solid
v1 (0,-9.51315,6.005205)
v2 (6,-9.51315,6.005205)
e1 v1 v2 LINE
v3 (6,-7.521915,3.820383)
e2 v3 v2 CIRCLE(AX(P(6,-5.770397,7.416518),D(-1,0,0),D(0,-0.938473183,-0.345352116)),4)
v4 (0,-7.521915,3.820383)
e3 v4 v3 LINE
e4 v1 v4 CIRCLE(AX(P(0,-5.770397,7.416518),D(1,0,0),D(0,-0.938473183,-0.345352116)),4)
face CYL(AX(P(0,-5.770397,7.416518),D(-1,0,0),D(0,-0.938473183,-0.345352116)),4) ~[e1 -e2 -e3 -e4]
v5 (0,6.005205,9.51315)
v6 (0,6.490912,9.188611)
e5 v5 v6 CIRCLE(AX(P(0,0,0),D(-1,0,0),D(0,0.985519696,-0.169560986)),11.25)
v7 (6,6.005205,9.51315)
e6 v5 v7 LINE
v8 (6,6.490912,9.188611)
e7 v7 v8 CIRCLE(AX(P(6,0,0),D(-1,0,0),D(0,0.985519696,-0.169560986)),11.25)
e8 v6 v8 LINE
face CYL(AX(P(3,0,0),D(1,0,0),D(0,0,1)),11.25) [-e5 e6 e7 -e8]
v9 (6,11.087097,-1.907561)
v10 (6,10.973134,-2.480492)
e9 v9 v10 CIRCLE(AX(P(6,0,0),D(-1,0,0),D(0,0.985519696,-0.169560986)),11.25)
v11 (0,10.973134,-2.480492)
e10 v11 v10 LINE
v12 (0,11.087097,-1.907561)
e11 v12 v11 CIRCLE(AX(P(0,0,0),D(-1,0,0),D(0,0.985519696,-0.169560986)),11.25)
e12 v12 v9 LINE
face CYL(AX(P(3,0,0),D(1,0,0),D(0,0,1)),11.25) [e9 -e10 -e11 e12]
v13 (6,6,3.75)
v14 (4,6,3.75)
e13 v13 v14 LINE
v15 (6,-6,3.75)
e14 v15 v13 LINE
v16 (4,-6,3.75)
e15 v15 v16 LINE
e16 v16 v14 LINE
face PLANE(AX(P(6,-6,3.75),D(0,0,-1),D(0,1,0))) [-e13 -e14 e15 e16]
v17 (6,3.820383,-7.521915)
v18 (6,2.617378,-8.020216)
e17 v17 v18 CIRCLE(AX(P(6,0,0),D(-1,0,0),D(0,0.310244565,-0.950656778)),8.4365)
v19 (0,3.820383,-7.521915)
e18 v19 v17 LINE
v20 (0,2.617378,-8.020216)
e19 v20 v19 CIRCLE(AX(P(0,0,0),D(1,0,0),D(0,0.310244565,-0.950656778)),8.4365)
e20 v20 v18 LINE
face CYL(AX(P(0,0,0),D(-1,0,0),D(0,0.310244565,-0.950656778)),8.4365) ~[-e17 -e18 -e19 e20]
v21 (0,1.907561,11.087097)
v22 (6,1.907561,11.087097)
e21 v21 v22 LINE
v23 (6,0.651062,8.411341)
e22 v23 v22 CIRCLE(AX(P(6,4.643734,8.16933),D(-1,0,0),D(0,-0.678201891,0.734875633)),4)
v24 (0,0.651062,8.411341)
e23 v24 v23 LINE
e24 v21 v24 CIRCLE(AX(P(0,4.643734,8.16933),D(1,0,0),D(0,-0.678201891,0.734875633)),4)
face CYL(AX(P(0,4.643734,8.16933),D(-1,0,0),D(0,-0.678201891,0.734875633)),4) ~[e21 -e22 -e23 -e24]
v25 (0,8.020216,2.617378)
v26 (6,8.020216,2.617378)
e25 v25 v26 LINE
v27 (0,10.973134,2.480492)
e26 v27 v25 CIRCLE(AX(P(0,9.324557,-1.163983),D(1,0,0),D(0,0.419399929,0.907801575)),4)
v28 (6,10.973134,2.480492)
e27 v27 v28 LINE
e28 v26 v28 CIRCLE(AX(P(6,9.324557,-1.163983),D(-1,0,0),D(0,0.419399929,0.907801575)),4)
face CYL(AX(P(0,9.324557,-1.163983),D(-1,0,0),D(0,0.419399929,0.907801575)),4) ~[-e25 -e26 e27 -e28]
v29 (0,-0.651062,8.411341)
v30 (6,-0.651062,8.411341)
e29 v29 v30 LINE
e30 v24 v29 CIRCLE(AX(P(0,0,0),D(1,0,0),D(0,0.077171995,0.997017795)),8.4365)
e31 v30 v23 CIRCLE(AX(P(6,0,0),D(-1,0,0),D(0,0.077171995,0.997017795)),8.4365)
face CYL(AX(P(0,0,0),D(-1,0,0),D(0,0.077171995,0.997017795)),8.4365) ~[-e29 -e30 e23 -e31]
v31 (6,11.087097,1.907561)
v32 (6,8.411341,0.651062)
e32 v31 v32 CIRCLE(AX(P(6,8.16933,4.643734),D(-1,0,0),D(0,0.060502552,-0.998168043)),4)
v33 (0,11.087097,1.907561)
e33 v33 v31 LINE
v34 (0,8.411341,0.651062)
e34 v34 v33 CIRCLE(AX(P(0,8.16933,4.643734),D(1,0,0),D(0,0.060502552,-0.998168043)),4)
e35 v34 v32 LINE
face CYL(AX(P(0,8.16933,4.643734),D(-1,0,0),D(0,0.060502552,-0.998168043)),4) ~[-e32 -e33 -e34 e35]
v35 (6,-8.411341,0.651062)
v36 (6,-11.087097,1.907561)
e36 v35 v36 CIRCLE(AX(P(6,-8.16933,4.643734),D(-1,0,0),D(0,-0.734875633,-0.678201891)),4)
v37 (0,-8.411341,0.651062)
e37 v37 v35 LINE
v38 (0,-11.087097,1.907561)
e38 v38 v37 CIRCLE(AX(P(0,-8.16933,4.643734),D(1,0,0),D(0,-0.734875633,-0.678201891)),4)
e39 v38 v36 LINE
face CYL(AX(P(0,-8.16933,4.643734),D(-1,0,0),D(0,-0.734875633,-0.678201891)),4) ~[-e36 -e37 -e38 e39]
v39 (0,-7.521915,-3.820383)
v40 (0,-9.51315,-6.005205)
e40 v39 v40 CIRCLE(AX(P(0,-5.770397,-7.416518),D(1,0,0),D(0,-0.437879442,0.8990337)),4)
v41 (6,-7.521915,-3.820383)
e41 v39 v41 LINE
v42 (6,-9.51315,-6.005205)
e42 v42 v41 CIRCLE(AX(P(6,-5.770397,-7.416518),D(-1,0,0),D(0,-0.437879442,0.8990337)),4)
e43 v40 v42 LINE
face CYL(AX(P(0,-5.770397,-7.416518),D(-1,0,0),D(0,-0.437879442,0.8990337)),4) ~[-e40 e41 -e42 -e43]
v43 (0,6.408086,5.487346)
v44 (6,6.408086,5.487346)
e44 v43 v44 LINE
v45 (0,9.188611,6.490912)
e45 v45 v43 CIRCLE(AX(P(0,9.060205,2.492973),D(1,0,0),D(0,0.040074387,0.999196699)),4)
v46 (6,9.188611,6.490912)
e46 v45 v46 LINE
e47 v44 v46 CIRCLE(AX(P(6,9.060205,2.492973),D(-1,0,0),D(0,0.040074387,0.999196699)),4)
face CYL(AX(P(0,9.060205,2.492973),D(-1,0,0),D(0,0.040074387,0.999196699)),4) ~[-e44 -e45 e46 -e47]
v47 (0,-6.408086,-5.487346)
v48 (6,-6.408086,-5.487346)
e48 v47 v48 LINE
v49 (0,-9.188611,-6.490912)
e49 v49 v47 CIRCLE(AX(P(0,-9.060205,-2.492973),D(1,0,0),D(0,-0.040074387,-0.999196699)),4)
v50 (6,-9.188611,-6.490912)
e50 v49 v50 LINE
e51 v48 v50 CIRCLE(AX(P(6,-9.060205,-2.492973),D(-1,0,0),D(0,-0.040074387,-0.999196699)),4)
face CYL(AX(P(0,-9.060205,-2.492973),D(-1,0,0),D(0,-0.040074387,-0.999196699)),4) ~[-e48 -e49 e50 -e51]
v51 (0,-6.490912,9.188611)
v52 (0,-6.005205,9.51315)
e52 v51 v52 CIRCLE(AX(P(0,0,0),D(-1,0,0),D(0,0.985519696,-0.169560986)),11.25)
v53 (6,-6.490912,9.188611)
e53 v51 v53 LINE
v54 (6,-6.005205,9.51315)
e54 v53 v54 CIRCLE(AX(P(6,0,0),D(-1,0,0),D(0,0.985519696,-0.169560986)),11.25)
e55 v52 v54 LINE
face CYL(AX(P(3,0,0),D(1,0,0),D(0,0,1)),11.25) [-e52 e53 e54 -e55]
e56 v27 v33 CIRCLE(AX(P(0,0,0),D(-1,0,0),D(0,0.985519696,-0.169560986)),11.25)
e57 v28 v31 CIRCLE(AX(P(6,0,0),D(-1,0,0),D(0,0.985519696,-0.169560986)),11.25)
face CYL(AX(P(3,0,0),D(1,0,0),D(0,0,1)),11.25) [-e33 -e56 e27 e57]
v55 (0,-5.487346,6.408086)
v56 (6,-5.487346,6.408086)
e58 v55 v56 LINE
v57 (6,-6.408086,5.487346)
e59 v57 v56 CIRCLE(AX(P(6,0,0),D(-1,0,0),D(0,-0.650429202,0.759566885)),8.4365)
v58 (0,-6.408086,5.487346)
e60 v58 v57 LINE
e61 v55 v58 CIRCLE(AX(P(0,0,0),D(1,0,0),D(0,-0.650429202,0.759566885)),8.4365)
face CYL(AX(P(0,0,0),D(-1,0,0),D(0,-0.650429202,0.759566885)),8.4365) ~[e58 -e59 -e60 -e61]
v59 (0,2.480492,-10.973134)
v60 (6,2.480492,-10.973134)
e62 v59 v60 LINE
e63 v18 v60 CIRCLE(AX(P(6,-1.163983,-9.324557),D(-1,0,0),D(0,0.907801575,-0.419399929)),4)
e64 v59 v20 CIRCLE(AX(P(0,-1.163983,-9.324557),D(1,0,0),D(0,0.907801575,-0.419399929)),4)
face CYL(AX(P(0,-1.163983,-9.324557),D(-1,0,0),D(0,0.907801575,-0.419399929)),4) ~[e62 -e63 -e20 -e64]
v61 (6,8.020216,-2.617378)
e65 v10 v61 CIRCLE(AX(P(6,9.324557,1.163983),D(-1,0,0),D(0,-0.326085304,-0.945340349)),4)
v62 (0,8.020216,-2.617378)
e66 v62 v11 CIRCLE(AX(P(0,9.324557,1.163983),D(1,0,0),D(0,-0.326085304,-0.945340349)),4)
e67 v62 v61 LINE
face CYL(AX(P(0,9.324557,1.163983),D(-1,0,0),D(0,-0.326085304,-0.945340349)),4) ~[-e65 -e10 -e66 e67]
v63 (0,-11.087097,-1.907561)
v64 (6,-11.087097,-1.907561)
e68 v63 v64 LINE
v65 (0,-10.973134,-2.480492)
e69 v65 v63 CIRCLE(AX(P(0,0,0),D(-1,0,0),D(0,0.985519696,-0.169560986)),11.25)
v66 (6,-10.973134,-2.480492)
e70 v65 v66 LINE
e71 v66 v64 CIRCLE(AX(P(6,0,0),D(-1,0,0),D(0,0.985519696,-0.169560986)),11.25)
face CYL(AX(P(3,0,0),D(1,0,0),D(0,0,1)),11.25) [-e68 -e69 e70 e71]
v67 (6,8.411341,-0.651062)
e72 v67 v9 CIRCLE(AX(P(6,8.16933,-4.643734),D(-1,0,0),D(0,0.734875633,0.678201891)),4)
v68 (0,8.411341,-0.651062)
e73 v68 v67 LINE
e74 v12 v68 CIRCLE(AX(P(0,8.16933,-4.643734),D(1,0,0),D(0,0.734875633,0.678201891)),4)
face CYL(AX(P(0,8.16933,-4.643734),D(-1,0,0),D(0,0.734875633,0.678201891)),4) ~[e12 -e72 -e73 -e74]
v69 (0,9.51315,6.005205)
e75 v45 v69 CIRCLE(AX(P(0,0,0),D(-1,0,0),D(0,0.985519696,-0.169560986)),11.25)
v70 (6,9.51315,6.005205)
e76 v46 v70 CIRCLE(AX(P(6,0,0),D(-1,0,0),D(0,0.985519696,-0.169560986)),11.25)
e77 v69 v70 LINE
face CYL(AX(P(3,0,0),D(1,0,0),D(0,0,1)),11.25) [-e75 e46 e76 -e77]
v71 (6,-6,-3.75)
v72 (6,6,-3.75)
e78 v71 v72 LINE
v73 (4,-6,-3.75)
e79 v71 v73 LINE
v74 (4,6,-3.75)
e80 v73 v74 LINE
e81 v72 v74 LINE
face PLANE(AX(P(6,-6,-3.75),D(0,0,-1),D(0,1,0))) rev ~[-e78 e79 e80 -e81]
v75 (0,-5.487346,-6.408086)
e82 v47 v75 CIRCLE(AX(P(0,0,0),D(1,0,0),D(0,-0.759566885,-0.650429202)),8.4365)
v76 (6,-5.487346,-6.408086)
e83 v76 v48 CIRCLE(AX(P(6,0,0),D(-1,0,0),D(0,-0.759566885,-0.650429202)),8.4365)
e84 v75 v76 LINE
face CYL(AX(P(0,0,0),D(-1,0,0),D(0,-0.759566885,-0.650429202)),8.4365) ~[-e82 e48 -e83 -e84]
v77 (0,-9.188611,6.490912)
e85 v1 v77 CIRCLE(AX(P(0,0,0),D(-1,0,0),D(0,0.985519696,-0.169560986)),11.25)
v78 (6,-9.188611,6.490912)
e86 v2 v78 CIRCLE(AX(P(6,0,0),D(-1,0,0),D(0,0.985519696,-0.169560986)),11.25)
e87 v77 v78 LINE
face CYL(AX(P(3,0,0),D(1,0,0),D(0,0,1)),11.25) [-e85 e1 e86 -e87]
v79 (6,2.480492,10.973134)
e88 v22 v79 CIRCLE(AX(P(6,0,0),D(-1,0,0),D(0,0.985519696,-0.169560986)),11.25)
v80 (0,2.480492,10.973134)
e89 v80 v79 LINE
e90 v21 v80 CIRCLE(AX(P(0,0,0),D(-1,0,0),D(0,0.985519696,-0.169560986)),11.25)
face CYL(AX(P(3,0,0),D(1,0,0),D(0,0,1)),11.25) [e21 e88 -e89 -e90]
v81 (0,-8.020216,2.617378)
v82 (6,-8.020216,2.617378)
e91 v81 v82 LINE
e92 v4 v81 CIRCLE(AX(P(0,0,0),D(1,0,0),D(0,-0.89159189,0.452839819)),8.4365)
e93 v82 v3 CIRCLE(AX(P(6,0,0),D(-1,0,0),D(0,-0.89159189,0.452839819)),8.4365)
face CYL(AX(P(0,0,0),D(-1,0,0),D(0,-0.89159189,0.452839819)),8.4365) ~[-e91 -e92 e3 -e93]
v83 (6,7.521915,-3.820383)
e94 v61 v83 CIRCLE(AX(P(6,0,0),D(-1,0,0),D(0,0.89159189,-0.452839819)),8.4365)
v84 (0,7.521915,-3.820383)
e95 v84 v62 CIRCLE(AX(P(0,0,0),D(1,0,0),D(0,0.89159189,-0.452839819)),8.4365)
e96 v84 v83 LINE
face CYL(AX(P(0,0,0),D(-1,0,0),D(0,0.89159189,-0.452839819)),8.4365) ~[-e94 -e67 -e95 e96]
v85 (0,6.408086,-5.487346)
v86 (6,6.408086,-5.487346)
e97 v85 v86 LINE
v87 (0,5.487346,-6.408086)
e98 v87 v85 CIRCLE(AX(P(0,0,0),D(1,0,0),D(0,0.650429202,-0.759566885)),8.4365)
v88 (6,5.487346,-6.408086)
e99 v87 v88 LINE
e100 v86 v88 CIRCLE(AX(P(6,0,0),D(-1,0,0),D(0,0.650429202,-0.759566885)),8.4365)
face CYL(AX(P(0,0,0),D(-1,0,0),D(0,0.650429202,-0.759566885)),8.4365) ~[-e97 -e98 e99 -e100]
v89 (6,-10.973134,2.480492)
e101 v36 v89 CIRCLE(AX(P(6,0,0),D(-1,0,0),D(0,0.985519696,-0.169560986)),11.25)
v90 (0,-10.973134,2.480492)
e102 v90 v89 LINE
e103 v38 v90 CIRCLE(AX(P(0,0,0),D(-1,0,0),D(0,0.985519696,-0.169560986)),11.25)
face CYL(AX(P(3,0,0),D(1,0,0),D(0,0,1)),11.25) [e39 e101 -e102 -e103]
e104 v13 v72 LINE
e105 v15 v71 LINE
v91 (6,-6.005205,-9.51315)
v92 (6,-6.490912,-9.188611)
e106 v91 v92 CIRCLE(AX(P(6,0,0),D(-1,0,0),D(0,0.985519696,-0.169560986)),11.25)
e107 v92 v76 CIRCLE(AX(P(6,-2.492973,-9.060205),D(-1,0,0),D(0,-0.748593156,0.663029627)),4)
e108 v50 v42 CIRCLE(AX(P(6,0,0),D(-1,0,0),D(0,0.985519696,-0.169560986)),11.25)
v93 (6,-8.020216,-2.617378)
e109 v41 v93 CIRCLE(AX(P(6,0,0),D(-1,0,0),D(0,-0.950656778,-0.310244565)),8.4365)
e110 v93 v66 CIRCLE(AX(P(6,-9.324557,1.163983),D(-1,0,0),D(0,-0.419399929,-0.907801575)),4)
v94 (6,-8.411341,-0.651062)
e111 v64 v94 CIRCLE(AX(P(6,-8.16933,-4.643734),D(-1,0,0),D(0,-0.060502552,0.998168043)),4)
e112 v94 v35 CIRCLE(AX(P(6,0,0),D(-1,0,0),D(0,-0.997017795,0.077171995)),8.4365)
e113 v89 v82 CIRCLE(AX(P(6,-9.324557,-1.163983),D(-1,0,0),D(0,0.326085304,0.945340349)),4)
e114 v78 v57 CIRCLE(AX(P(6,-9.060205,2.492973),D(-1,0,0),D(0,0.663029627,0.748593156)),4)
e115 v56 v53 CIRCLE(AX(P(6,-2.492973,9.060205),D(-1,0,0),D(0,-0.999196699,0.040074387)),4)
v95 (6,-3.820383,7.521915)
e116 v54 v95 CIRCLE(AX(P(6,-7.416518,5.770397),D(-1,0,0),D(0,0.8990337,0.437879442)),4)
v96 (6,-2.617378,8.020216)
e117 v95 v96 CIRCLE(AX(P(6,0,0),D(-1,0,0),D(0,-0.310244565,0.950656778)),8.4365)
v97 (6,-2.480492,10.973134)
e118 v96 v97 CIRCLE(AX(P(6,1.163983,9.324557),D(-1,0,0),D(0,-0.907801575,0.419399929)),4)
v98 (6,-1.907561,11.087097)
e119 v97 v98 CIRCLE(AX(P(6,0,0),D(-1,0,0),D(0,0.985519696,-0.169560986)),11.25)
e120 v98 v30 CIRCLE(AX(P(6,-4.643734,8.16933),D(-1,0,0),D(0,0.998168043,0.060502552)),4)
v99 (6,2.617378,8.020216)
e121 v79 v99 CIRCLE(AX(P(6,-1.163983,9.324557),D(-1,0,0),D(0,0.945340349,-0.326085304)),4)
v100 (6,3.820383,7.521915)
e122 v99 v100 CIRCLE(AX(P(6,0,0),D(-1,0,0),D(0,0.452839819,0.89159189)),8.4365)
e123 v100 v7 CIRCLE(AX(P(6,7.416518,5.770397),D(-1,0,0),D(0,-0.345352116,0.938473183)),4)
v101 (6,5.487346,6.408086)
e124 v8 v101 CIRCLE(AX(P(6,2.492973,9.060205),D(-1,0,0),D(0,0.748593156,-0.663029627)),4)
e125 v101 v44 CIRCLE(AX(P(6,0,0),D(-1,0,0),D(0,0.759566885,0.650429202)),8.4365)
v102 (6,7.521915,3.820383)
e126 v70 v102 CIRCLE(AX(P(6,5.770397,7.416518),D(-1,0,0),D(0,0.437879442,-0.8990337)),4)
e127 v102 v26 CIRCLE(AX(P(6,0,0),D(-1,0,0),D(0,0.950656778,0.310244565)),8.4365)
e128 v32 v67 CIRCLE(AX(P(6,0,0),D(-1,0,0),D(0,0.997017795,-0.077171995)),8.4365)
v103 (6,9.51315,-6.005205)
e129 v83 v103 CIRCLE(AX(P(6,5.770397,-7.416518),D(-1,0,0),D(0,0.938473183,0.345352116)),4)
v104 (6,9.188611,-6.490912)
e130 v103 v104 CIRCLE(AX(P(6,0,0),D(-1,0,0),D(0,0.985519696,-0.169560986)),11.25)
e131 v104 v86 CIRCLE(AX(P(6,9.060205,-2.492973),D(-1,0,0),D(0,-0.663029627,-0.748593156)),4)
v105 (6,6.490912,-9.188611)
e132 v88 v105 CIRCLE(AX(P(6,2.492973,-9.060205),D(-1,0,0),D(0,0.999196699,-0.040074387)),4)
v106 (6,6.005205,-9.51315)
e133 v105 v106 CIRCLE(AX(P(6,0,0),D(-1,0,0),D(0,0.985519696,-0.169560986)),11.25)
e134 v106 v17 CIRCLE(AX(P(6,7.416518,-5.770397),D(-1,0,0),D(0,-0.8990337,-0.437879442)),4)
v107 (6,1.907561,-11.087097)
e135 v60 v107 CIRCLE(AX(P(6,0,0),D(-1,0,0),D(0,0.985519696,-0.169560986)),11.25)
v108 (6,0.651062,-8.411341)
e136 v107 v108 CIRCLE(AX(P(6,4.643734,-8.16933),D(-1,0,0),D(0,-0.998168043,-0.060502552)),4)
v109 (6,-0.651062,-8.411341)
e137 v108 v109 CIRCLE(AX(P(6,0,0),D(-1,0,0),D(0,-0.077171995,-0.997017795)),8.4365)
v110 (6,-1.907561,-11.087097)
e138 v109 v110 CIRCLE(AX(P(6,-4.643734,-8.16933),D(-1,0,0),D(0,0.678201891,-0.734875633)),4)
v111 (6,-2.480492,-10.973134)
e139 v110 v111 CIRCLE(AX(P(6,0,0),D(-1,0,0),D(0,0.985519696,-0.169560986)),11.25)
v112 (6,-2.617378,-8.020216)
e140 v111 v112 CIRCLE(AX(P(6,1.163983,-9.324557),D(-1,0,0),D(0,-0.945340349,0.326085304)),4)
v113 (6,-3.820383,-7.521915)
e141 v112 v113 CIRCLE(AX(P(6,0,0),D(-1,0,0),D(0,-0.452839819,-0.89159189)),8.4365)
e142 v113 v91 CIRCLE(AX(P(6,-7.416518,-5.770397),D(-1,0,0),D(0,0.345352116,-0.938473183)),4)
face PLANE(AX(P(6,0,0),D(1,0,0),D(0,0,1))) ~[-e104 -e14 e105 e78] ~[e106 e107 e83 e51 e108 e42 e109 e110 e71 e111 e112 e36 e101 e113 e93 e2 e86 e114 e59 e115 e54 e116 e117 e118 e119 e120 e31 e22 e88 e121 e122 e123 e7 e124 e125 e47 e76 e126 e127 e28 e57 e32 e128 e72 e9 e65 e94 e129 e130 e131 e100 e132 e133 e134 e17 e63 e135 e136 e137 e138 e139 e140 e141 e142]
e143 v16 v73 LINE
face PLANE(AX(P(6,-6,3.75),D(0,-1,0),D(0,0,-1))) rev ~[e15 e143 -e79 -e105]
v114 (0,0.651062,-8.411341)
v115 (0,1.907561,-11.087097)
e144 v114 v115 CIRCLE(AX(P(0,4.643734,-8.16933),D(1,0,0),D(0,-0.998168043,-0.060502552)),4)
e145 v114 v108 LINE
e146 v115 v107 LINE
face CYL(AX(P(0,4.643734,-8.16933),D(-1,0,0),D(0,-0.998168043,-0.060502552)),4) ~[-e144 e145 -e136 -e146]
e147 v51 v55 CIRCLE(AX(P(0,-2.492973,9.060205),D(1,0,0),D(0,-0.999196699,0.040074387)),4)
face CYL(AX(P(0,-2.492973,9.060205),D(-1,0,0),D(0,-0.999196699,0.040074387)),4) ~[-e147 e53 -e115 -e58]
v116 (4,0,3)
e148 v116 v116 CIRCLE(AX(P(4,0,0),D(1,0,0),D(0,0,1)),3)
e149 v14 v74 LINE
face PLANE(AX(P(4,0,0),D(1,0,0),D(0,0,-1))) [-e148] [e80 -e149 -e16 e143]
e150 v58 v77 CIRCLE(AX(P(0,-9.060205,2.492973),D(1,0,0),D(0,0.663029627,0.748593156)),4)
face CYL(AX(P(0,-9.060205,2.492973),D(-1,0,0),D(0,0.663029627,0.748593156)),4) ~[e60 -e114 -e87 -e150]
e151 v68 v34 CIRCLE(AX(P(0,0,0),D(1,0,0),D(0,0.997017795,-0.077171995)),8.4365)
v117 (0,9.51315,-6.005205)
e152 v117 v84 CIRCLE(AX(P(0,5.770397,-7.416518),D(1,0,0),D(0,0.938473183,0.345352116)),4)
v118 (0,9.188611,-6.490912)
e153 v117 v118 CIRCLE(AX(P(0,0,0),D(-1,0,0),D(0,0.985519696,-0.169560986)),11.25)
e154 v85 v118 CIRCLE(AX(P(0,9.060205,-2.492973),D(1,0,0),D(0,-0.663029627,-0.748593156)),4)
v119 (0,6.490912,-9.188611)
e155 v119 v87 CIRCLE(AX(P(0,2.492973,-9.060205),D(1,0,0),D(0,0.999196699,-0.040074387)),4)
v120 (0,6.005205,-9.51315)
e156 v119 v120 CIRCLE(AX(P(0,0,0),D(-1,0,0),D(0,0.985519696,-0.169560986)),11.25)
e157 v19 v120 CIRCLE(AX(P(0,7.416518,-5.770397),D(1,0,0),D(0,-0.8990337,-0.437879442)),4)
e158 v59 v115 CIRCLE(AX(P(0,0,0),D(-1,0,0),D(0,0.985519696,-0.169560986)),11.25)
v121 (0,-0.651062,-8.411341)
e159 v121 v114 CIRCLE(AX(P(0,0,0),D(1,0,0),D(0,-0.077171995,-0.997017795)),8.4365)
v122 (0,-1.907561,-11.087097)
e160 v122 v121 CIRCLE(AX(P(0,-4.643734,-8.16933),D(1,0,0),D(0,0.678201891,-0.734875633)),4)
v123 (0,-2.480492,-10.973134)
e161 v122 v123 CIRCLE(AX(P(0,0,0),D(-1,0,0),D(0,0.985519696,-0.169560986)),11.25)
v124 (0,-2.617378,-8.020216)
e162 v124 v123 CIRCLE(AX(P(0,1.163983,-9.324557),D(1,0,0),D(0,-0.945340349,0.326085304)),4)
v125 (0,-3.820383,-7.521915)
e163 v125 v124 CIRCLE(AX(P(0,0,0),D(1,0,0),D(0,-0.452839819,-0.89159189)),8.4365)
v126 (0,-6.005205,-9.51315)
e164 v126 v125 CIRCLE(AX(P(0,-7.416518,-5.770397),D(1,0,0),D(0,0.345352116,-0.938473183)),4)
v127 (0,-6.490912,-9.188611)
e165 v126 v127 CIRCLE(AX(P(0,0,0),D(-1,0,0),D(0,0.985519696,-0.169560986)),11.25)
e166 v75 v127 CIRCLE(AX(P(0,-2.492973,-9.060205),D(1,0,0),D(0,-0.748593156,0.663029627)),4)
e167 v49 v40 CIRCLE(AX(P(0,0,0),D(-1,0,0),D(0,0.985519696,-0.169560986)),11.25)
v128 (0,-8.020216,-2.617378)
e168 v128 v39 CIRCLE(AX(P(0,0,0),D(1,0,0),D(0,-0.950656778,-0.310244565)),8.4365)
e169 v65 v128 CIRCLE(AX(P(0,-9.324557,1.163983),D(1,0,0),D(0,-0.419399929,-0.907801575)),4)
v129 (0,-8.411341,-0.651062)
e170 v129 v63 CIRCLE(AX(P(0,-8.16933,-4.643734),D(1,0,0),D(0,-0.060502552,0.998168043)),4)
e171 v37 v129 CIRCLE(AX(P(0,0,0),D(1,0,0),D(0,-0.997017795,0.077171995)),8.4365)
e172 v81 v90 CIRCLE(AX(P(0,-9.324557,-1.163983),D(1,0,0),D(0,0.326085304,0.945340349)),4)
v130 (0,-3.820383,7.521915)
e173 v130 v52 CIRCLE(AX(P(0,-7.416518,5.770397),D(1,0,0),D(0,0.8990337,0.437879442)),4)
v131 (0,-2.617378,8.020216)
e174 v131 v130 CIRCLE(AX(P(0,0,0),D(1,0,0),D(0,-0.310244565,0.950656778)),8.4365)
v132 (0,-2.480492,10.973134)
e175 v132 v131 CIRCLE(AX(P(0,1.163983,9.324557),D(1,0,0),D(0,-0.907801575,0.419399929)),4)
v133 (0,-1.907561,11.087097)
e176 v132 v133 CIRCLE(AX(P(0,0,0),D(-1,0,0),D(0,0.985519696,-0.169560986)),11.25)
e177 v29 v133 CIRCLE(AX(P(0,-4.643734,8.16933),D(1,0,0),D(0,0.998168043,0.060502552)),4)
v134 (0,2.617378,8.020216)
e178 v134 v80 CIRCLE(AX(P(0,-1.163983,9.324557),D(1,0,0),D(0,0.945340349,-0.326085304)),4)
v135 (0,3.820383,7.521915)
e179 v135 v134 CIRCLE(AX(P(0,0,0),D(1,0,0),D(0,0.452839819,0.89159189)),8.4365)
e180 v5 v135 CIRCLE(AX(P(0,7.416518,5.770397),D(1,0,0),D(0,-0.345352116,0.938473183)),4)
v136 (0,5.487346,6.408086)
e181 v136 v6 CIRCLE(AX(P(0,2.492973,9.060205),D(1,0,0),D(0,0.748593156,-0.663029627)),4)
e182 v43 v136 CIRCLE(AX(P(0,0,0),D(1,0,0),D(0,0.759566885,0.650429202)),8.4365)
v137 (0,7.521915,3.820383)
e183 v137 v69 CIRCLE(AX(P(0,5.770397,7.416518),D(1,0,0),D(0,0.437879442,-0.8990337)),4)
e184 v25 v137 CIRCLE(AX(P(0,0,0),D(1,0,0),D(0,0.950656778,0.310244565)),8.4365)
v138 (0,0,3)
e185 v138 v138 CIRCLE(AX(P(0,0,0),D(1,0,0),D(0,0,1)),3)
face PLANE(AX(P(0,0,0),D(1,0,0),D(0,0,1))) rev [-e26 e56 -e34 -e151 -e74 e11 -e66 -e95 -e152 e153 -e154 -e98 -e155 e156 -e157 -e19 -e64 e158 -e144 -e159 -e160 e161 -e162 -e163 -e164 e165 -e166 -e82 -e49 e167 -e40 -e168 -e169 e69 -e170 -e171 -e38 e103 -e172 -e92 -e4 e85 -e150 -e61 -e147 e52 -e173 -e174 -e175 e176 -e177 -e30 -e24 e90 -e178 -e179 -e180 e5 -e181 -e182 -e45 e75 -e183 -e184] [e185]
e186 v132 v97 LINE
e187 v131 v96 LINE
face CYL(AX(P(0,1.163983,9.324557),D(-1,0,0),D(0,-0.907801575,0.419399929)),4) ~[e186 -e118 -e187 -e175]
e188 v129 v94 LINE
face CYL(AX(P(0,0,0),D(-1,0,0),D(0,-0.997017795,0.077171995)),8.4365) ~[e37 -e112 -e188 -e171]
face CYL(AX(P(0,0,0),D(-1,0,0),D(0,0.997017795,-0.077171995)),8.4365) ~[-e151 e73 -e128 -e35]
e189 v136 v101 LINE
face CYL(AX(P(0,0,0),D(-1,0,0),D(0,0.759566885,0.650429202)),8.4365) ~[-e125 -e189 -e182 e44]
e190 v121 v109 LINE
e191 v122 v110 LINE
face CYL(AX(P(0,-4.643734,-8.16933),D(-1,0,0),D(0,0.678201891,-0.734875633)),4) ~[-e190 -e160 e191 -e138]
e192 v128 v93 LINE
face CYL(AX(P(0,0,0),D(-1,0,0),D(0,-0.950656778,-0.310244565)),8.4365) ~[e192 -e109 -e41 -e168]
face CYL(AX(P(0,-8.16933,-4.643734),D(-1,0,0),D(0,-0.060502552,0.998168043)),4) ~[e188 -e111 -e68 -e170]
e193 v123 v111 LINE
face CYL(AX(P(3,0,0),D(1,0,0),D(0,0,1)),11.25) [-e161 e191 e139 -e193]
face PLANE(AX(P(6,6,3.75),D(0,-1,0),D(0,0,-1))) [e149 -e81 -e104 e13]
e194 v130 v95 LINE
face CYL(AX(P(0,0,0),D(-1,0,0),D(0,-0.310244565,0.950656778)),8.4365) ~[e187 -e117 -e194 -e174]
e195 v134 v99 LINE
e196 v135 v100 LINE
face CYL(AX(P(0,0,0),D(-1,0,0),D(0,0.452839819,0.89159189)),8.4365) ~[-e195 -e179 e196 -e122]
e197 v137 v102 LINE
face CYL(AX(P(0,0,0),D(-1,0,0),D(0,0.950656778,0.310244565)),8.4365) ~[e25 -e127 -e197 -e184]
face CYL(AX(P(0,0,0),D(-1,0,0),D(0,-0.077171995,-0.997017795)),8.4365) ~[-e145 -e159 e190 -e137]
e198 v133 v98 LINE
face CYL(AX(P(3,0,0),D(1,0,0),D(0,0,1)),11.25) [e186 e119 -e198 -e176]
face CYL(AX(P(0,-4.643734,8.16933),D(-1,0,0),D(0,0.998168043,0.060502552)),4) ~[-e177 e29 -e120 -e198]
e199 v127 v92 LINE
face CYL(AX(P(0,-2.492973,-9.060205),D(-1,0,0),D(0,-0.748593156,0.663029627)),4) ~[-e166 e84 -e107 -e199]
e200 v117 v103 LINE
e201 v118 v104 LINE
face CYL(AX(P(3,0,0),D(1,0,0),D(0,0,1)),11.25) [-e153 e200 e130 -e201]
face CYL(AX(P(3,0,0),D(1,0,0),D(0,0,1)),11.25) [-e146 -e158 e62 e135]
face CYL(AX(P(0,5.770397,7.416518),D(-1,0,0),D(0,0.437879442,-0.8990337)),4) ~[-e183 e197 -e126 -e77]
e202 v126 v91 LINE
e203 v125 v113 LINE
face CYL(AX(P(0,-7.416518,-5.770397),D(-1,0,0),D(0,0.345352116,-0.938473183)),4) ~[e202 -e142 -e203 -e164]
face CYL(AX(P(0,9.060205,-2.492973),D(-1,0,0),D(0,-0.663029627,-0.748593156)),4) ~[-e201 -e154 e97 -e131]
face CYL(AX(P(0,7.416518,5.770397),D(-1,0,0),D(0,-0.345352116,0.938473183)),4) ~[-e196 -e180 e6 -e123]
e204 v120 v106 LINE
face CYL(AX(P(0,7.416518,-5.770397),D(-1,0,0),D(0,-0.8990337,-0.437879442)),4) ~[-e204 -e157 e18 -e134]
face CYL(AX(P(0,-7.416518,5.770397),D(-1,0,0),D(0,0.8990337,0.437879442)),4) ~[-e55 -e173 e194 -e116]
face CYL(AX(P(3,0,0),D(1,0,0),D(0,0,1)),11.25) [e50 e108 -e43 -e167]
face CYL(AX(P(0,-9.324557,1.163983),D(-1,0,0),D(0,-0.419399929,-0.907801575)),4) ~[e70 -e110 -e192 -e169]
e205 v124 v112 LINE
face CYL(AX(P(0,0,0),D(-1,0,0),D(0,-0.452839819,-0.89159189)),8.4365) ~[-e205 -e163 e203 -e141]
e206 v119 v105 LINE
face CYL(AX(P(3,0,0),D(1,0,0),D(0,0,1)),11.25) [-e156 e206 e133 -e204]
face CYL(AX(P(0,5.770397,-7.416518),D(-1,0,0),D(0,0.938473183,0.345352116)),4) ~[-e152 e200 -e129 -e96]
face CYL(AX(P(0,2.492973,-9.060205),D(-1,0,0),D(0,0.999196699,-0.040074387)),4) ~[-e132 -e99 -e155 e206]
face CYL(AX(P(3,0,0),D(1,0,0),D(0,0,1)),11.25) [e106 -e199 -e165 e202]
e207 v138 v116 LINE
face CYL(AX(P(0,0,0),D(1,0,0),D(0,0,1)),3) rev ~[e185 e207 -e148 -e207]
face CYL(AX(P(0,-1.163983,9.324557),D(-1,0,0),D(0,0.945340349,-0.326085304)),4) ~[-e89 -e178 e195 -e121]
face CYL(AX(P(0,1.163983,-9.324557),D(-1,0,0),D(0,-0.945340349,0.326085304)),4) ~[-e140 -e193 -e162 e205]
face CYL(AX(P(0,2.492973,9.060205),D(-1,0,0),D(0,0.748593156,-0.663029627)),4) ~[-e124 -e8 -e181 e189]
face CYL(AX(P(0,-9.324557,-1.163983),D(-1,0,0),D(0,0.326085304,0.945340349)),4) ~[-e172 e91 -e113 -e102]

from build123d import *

# Parameters (mm, degrees)
BASPROSKE_W         = 6
BASPROSKE_H         = 11.25
TOOTHCUT_DEPTH      = 18.003676073
TEETHCUTS_COUNT     = 16
TEETHCUTS_ANGLE     = 337.5
BORSKE_R            = 3
BORE_DEPTH          = 50.0000508
SKETCH_1_W          = 7.5
SKETCH_1_H          = 12
CUT_EXTRUDE_1_DEPTH = 2


with BuildPart() as part:
    # BasProSke → Base-Revolve (revolve)
    with BuildSketch(Plane(origin=(0, 0, 0), x_dir=(1, 0, 0), z_dir=(0, 1, 0)), mode=Mode.PRIVATE) as base_revolve_sk:
        with Locations((3, 5.625)):
            Rectangle(BASPROSKE_W, BASPROSKE_H)
    revolve(base_revolve_sk.sketch.rotate(Axis((-10, 0, 0), (1, 0, 0)), 180), axis=Axis((-10, 0, 0), (1, 0, 0)))

    # TooCutSke → ToothCut (cut, through all)
    with BuildSketch(Plane(origin=(0, 0, 0), x_dir=(0, 0, -1), z_dir=(1, 0, 0))):
        with BuildLine():
            ThreePointArc((0.651061533, 8.411340626), (0, 8.4365), (-0.651061533, 8.411340626))
            ThreePointArc((-0.651061533, 8.411340626), (-1.029874156, 9.883978829), (-1.930926138, 11.108832945))
            ThreePointArc((-1.930926138, 11.108832945), (0, 11.2754), (1.930926138, 11.108832945))
            ThreePointArc((1.930926138, 11.108832945), (1.029874156, 9.883978829), (0.651061533, 8.411340626))
        make_face()
    toothcut = extrude(amount=TOOTHCUT_DEPTH, mode=Mode.SUBTRACT)

    # TeethCuts: ToothCut ×16 about axis
    teethcuts_axis = Axis((-10, 0, 0), (1, 0, 0))
    for i in range(1, TEETHCUTS_COUNT):
        add(toothcut.rotate(teethcuts_axis, i * TEETHCUTS_ANGLE / (TEETHCUTS_COUNT - 1)), mode=Mode.SUBTRACT)

    # BorSke → Bore (cut, symmetric)
    with BuildSketch(Plane(origin=(0, 0, 0), x_dir=(0, 0, -1), z_dir=(1, 0, 0))):
        with Locations(Location((0, 0, 0), (0, 0, 180))):
            Circle(BORSKE_R)
    extrude(amount=BORE_DEPTH, both=True, mode=Mode.SUBTRACT)

    # Эскиз1 → Вырез-Вытянуть1 (cut)
    with BuildSketch(Plane(origin=(6, 0, 0), x_dir=(0, 0, -1), z_dir=(1, 0, 0))):
        Rectangle(SKETCH_1_W, SKETCH_1_H)
    extrude(amount=-CUT_EXTRUDE_1_DEPTH, mode=Mode.SUBTRACT)


solid = part.part
